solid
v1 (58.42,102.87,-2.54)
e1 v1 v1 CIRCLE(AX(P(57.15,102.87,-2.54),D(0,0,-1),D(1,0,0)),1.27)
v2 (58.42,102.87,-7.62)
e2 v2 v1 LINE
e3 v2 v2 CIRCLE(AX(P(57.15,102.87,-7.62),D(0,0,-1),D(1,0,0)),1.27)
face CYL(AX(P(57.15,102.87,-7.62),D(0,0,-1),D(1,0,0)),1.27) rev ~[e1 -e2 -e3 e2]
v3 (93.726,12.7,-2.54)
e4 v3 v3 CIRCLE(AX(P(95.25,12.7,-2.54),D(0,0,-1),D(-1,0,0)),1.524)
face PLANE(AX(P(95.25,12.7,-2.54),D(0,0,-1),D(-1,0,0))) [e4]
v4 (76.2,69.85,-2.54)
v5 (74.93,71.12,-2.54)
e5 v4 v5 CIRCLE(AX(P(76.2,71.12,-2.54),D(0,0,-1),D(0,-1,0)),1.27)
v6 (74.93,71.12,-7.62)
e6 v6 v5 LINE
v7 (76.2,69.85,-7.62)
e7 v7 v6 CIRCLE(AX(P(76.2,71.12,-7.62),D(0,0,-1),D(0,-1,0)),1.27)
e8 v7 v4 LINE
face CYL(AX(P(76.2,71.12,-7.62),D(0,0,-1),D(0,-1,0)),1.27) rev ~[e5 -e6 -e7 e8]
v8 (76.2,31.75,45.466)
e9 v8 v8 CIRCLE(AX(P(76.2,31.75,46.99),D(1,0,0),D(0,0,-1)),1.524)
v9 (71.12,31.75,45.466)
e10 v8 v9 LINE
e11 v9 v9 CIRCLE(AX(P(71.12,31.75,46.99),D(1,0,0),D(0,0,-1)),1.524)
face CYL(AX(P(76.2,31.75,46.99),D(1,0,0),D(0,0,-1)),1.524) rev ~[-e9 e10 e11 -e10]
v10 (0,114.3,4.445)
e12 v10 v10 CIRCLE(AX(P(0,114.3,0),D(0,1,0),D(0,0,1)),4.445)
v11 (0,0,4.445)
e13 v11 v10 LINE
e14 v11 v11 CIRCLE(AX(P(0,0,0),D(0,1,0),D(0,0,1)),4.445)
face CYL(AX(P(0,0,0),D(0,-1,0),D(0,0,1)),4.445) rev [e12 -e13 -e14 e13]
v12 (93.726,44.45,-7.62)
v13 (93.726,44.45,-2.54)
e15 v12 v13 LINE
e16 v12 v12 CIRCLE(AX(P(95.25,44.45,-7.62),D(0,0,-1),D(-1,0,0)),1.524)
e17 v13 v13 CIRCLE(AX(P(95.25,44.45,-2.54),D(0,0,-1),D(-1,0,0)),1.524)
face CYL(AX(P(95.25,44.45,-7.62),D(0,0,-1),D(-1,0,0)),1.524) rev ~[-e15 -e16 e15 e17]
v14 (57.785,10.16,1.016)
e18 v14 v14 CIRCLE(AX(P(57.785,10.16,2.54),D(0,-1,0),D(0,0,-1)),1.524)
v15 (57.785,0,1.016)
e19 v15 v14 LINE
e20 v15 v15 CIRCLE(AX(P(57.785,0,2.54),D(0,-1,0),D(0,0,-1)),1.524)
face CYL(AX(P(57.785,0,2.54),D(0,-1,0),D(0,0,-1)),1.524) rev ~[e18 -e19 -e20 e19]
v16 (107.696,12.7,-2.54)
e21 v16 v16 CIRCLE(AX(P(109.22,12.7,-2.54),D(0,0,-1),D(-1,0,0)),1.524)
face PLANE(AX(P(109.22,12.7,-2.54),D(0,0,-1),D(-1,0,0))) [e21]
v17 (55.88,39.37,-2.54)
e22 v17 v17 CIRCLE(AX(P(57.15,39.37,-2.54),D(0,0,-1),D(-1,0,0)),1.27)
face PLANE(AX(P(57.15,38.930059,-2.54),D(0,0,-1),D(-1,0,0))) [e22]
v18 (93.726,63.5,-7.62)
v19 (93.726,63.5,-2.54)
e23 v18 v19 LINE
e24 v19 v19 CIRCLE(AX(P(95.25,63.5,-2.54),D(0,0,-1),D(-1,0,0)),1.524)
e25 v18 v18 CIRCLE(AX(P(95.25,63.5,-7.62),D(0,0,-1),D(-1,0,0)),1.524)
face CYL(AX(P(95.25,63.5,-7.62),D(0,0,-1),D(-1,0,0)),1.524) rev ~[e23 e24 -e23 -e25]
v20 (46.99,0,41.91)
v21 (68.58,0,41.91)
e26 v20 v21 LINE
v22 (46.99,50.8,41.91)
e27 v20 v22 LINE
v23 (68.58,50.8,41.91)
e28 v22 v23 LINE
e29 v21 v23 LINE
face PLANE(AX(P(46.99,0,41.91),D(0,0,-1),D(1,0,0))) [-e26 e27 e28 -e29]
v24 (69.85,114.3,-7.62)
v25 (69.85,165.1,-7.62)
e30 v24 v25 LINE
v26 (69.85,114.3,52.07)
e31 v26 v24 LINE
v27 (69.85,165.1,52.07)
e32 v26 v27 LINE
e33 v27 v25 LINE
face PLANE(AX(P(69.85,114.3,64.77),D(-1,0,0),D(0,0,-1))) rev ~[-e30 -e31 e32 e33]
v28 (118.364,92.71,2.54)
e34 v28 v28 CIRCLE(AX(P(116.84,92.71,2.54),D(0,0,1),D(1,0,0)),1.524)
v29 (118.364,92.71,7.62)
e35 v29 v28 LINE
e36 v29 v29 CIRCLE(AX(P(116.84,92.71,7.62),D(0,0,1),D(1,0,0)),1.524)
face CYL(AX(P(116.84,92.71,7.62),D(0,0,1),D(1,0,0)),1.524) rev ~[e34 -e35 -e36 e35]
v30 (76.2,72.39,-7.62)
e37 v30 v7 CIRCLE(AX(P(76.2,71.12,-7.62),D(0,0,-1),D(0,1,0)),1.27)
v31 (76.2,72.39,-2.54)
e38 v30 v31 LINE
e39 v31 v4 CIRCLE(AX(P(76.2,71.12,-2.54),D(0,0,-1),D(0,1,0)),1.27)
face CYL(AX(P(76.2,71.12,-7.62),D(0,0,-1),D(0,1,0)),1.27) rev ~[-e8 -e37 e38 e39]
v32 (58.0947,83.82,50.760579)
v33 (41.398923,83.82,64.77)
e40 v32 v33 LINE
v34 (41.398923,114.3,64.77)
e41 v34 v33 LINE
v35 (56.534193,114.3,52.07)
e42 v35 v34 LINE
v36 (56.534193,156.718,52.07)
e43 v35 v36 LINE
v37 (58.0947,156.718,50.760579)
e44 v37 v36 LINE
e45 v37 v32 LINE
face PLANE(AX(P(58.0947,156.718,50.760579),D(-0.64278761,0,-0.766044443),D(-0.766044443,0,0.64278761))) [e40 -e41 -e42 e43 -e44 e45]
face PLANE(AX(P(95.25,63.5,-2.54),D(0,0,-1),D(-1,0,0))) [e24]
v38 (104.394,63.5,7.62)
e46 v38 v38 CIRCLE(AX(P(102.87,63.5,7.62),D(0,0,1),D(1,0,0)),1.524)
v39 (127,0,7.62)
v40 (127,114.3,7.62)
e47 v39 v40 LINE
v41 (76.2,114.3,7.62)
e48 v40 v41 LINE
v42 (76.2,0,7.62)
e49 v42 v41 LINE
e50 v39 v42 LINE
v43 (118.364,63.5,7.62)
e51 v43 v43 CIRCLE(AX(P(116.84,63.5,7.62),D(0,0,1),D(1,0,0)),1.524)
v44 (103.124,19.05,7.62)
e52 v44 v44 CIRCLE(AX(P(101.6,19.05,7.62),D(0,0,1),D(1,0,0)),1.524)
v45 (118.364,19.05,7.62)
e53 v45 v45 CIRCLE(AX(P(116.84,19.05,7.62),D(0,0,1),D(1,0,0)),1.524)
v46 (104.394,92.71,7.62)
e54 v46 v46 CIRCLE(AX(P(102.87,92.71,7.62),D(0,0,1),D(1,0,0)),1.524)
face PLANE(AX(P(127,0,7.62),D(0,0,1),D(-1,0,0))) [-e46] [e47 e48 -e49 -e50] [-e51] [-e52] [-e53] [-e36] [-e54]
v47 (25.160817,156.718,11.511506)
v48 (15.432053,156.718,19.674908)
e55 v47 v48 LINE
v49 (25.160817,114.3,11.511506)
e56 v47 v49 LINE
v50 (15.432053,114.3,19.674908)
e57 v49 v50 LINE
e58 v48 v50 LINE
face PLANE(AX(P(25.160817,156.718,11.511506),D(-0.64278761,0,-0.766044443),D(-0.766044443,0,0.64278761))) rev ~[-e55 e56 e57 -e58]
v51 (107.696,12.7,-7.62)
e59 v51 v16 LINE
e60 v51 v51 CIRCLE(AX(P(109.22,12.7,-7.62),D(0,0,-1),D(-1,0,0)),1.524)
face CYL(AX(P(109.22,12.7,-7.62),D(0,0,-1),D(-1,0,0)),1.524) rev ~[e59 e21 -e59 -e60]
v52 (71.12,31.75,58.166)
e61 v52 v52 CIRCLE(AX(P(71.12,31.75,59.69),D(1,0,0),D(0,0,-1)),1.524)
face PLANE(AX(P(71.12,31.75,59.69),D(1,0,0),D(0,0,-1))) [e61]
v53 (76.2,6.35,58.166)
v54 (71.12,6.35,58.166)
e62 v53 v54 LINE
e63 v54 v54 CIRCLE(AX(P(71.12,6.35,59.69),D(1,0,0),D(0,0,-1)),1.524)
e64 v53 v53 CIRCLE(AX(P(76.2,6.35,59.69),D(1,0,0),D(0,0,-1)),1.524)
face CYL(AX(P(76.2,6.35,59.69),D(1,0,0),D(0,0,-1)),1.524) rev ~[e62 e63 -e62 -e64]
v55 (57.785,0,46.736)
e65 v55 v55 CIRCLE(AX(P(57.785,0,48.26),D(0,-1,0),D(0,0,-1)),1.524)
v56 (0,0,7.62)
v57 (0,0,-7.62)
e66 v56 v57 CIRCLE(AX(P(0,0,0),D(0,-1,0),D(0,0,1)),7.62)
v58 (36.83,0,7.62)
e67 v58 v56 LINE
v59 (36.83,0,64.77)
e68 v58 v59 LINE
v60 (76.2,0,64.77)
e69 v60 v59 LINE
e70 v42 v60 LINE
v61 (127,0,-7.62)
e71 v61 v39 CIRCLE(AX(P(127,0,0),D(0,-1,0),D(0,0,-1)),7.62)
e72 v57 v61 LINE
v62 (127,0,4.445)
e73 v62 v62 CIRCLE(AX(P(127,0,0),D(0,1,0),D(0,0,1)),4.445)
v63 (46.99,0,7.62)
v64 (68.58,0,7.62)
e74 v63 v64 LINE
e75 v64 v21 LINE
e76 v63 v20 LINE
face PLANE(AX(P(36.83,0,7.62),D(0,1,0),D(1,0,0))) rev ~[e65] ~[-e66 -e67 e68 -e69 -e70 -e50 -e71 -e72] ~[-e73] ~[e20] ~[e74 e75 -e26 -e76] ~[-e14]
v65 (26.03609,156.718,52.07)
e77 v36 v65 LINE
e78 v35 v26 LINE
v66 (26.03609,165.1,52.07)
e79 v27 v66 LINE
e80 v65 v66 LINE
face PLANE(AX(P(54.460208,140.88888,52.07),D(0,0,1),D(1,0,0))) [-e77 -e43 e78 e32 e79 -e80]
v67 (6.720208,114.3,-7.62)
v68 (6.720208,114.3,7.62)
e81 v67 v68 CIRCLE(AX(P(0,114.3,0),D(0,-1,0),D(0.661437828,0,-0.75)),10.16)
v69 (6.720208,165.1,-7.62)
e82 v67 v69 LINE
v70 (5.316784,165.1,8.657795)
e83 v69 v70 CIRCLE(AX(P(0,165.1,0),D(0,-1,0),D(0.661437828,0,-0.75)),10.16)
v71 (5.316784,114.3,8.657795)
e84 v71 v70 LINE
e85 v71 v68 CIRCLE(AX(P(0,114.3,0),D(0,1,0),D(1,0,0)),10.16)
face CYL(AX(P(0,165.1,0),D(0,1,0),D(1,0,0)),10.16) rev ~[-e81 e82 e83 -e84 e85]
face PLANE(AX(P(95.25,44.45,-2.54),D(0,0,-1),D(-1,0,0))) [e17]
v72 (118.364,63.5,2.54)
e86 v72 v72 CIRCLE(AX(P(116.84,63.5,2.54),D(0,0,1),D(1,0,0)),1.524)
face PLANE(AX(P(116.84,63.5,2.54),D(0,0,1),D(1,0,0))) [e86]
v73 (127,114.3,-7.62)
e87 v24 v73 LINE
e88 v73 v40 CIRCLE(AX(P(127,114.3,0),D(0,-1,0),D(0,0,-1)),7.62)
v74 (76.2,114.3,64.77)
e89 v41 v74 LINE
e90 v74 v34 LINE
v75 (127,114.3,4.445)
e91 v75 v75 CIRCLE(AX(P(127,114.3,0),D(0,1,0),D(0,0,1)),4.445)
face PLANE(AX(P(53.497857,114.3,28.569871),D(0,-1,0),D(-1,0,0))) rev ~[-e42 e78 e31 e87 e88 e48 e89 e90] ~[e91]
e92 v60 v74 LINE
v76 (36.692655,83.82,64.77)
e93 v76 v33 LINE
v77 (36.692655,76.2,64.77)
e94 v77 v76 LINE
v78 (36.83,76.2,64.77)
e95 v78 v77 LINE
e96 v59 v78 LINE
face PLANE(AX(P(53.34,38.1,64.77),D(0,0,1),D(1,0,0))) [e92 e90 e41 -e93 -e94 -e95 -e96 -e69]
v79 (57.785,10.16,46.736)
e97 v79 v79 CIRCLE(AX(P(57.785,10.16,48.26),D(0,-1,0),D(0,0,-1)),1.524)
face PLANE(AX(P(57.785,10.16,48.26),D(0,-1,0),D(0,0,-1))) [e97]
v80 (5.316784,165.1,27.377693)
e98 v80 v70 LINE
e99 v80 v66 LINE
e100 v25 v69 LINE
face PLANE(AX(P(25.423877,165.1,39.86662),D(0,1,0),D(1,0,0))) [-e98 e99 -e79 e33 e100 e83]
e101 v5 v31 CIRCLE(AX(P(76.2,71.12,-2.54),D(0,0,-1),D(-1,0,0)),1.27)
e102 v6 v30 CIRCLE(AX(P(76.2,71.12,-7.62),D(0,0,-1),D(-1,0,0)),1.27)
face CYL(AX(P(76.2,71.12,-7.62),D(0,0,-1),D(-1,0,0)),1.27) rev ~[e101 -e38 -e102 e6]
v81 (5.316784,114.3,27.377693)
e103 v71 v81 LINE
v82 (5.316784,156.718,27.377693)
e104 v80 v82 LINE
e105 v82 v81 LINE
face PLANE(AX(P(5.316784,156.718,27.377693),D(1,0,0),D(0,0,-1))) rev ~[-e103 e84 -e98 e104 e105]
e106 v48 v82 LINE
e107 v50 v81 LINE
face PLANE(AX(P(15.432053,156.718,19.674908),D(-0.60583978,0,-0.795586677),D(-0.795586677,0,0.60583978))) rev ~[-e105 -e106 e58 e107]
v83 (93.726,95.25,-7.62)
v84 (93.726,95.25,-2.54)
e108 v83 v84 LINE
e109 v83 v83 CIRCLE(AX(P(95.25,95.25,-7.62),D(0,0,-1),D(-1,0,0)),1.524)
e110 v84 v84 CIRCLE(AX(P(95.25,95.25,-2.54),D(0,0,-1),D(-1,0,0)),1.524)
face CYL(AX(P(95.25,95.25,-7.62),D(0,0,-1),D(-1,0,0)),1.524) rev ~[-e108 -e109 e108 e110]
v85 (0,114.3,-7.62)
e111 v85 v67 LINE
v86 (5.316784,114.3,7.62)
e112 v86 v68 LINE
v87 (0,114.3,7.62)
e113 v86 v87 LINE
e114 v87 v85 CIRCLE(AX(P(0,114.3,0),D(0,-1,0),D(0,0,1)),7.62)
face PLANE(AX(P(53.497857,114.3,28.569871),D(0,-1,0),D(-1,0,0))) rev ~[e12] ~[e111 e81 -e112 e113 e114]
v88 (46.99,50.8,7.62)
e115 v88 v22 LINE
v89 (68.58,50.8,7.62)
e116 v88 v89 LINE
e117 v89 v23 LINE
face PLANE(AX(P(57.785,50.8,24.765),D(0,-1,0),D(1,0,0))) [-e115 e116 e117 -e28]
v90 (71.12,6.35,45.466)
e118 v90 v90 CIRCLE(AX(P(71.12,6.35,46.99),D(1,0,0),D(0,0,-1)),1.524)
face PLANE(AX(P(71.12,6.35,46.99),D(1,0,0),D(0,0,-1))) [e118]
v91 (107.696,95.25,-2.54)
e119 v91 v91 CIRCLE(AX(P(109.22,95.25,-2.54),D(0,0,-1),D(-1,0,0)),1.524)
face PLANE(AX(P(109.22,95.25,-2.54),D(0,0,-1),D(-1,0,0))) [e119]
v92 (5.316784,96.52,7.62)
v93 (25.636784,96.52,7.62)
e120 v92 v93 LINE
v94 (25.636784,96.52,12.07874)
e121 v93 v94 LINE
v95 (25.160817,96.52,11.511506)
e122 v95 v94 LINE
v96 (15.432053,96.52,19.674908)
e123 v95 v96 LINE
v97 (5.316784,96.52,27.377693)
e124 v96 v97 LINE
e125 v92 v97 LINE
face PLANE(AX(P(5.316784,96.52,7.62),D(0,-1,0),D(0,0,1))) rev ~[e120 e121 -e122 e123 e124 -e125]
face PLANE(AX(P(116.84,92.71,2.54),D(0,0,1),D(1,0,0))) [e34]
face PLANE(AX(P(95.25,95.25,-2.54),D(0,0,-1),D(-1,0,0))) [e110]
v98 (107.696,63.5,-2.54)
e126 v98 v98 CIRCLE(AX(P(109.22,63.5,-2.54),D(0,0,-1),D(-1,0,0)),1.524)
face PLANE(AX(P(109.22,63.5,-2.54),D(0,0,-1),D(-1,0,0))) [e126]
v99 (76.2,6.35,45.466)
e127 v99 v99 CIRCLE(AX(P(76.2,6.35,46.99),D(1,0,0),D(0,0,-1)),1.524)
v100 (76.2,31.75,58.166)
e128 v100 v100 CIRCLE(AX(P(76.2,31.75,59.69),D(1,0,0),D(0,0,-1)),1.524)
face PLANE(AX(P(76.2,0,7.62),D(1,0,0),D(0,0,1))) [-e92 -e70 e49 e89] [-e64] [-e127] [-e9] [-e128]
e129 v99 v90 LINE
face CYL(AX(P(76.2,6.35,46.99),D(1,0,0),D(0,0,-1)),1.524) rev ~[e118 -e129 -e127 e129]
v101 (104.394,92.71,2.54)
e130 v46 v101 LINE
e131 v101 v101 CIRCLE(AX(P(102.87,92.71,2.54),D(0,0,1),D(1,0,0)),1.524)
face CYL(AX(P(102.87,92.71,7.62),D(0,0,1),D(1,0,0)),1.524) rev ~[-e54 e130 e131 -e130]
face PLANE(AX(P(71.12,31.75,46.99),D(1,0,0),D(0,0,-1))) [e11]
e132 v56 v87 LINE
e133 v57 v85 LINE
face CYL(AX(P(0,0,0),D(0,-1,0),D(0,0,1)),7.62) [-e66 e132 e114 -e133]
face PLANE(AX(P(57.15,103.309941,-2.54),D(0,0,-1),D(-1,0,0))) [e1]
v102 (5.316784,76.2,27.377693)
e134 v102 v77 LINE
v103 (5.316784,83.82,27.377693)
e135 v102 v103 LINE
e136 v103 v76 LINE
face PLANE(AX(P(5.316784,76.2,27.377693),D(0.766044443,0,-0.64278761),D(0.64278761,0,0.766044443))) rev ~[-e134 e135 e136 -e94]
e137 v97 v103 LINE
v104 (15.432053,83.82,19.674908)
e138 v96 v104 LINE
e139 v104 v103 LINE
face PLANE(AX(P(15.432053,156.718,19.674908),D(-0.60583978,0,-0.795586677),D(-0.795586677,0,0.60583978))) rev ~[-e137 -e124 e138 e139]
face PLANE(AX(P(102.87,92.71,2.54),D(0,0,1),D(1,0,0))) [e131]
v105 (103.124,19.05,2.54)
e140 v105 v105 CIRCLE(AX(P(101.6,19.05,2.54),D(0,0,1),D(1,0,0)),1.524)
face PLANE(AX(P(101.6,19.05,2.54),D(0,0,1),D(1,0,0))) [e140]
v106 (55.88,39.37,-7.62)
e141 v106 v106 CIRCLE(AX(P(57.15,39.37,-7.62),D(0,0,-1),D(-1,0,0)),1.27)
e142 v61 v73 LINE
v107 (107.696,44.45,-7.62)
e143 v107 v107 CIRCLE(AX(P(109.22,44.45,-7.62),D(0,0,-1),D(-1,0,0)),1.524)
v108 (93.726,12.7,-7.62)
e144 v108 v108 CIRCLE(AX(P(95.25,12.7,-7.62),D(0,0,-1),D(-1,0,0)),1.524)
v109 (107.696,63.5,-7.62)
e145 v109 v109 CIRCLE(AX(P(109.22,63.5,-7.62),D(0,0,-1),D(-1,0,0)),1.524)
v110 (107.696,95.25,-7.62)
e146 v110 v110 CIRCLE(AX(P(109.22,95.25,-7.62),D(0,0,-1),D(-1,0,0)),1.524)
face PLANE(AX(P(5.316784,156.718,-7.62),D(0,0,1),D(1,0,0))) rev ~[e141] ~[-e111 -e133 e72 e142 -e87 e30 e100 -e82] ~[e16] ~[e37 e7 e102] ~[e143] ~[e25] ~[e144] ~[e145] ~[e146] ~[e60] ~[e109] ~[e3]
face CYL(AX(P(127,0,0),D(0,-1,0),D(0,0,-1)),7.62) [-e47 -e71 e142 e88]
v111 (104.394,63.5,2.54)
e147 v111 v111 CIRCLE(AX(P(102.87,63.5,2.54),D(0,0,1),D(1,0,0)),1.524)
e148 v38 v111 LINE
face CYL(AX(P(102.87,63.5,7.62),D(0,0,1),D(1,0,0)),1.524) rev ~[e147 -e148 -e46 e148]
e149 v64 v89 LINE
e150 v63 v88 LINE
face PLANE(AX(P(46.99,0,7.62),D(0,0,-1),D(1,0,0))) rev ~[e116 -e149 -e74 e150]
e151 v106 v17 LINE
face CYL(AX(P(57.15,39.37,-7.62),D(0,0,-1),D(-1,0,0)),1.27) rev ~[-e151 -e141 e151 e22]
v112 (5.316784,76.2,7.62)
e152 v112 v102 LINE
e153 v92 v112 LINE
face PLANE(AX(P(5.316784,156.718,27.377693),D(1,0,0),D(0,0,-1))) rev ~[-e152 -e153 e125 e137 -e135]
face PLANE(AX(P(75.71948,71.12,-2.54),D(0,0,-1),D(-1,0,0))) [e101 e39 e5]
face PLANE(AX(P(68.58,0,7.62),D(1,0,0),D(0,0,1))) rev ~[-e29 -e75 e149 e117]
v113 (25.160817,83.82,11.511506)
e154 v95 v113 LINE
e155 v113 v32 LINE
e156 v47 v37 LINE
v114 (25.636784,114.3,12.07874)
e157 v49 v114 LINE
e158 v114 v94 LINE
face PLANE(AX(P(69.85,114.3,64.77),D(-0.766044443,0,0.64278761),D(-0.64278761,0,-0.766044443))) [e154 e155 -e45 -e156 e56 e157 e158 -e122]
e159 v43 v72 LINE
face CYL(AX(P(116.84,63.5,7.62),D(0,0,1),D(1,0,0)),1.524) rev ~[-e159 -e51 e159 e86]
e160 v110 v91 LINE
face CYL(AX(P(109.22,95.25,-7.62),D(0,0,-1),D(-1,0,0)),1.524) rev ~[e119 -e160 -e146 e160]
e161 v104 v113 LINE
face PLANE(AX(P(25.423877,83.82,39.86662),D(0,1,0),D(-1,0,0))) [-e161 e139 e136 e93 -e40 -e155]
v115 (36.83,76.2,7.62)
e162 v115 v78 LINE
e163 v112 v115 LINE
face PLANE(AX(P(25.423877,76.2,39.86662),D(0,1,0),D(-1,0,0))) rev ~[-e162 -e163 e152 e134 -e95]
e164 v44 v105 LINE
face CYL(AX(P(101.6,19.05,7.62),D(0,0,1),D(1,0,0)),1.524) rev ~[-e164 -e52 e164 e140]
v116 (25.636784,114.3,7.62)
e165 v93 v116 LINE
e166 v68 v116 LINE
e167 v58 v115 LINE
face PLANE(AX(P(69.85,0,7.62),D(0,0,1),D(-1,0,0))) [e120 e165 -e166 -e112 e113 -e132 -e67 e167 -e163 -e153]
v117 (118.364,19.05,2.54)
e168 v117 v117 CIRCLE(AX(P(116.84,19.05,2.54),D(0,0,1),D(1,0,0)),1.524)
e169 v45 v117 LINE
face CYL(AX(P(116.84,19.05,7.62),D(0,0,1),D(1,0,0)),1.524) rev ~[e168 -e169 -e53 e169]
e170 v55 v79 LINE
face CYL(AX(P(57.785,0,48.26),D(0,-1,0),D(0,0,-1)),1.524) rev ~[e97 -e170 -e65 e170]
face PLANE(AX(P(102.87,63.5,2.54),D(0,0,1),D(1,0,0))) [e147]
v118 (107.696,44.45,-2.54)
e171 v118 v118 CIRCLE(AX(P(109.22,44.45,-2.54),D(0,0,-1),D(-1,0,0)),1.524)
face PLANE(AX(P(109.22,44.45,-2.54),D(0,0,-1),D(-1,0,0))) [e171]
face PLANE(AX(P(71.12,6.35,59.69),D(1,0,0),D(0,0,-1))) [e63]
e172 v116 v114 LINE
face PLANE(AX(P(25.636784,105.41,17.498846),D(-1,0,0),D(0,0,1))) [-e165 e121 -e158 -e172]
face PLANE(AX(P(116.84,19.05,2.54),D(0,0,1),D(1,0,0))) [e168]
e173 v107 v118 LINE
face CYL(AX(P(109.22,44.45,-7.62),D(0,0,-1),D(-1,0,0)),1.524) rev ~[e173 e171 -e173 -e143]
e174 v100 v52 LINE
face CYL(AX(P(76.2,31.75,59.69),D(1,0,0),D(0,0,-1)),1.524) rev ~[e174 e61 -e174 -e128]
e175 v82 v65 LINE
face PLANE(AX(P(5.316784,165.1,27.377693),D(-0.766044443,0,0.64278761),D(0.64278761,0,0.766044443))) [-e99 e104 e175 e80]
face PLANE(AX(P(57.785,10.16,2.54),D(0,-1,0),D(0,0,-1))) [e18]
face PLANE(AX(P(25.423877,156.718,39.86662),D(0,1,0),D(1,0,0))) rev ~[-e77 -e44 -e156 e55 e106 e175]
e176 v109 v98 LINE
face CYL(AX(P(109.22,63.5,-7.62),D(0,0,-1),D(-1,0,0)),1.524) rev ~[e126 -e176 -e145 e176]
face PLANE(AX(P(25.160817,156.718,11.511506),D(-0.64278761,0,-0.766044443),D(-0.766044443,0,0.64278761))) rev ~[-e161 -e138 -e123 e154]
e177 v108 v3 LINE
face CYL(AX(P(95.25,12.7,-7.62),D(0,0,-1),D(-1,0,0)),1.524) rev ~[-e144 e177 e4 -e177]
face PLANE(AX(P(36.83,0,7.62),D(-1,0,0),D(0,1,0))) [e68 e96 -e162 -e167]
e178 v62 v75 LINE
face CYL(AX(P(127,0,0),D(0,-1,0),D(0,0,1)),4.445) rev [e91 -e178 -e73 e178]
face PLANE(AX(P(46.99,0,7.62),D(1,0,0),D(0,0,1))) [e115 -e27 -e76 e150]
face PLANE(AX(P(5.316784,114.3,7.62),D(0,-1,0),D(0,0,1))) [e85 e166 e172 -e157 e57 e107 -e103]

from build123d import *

# Parameters (mm, degrees)
SKETCH1_R            = 4.445
BOSS_EXTRUDE1_DEPTH  = 114.3
BOSS_EXTRUDE3_DEPTH  = 38.1
SKETCH13_W           = 47.954543922
SKETCH13_H           = 15.24
BOSS_EXTRUDE4_DEPTH  = 50.8
BOSS_EXTRUDE5_DEPTH  = 7.62
BOSS_EXTRUDE6_DEPTH  = 8.382
BOSS_EXTRUDE7_DEPTH  = 76.2
BOSS_EXTRUDE8_DEPTH  = 7.62
BOSS_EXTRUDE9_DEPTH  = 8.382
BOSS_EXTRUDE10_DEPTH = 73.66
BOSS_EXTRUDE11_DEPTH = 73.406
SKETCH23_W           = 19.757692601
SKETCH23_H           = 17.78
CUT_EXTRUDE11_DEPTH  = 20.32
SKETCH24_R           = 10.16
CUT_EXTRUDE12_DEPTH  = 50.8
SKETCH25_W           = 23.730892102
SKETCH25_H           = 8.382
CUT_EXTRUDE14_DEPTH  = 12.7
SKETCH26_W           = 33.02
SKETCH26_H           = 76.2
BOSS_EXTRUDE13_DEPTH = 57.15
SKETCH34_R           = 1.524
CUT_EXTRUDE18_DEPTH  = 5.08
SKETCH35_R           = 1.524
CUT_EXTRUDE19_DEPTH  = 5.08
SKETCH36_R           = 1.524
CUT_EXTRUDE20_DEPTH  = 5.08
SKETCH37_W           = 21.59
SKETCH37_H           = 34.29
CUT_EXTRUDE21_DEPTH  = 50.8
SKETCH38_R           = 1.524
CUT_EXTRUDE22_DEPTH  = 10.16
CUT_EXTRUDE23_DEPTH  = 5.08


with BuildPart() as part:
    # Sketch1 → Boss-Extrude1 (new body)
    with BuildSketch(Plane(origin=(0, 0, 0), x_dir=(1, 0, 0), z_dir=(0, 1, 0))):
        with BuildLine():
            Line((0, 7.62), (127, 7.62))
            ThreePointArc((127, 7.62), (134.62, 0), (127, -7.62))
            Line((127, -7.62), (76.2, -7.62))
            Line((76.2, -7.62), (76.2, -64.77))
            Line((76.2, -64.77), (69.85, -64.77))
            Line((69.85, -64.77), (69.85, -7.62))
            Line((69.85, -7.62), (0, -7.62))
            ThreePointArc((0, -7.62), (-7.62, 0), (0, 7.62))
        make_face()
        with Locations(Location((0, 0, 0), (0, 0, 270))):
            Circle(SKETCH1_R, mode=Mode.SUBTRACT)
        with Locations(Location((127, 0, 0), (0, 0, 270))):
            Circle(SKETCH1_R, mode=Mode.SUBTRACT)
    extrude(amount=BOSS_EXTRUDE1_DEPTH)

    # Sketch12 → Boss-Extrude3 (add)
    with BuildSketch(Plane(origin=(0, 114.3, 0), x_dir=(1, 0, 0), z_dir=(0, 1, 0))):
        Polygon((69.85, -7.62), (69.85, -64.77), (21.895456078, -7.62), align=None)
    extrude(amount=-BOSS_EXTRUDE3_DEPTH)

    # Sketch13 → Boss-Extrude4 (add)
    with BuildSketch(Plane(origin=(0, 114.3, 0), x_dir=(1, 0, 0), z_dir=(0, 1, 0))):
        with Locations((45.872728039, 0)):
            Rectangle(SKETCH13_W, SKETCH13_H)
        Polygon((69.85, -7.62), (69.85, -64.77), (21.895456078, -7.62), align=None)
    extrude(amount=BOSS_EXTRUDE4_DEPTH)

    # Sketch14 → Boss-Extrude5 (add)
    with BuildSketch(Plane.XZ.offset(-76.2)):
        Polygon((21.895456078, 7.62), (69.85, 64.77), (53.271327425, 64.77), (12.166691651, 15.783402643), (5.316783504, 7.62), align=None)
    extrude(amount=-BOSS_EXTRUDE5_DEPTH)

    # Sketch15 → Boss-Extrude6 (add)
    with BuildSketch(Plane(origin=(0, 165.1, 0), x_dir=(1, 0, 0), z_dir=(0, 1, 0))):
        Polygon((69.85, -64.77), (53.271327425, -64.77), (5.316783504, -7.62), (5.316783504, 7.62), (21.895456078, 7.62), (21.895456078, -7.62), align=None)
    extrude(amount=-BOSS_EXTRUDE6_DEPTH)

    # Sketch17 → Boss-Extrude7 (add)
    with BuildSketch(Plane.XZ.offset(-156.718)):
        Polygon((12.166691651, 15.783402643), (5.316783504, 7.62), (5.316783504, -7.62), (21.895456078, -7.62), (21.895456078, 7.62), (25.160817135, 11.511505771), (15.432052708, 19.674908414), align=None)
    extrude(amount=BOSS_EXTRUDE7_DEPTH)

    # Sketch18 → Boss-Extrude8 (add)
    with BuildSketch(Plane.XZ.offset(-76.2)):
        Polygon((5.316783504, 7.62), (5.316783504, 27.377692601), (36.692654851, 64.77), (53.271327425, 64.77), align=None)
    extrude(amount=-BOSS_EXTRUDE8_DEPTH)

    # Sketch19 → Boss-Extrude9 (add)
    with BuildSketch(Plane(origin=(0, 165.1, 0), x_dir=(1, 0, 0), z_dir=(0, 1, 0))):
        Polygon((5.316783504, -7.62), (5.316783504, -27.377692601), (36.692654851, -64.77), (53.271327425, -64.77), align=None)
    extrude(amount=-BOSS_EXTRUDE9_DEPTH)

    # Sketch20 → Boss-Extrude10 (add)
    with BuildSketch(Plane.XZ.offset(-156.718)):
        Polygon((15.432052708, 19.674908414), (5.316783504, 27.377692601), (5.316783504, 7.62), align=None)
    extrude(amount=BOSS_EXTRUDE10_DEPTH)

    # Sketch22 → Boss-Extrude11 (add)
    with BuildSketch(Plane.XZ.offset(-156.718)):
        Polygon((69.85, 64.77), (58.094700194, 50.760579224), (41.398922654, 64.77), align=None)
    extrude(amount=BOSS_EXTRUDE11_DEPTH)

    # Sketch23 → Cut-Extrude11 (cut)
    with BuildSketch(Plane.ZY.offset(-5.316783504)):
        with Locations((17.498846301, 105.41)):
            Rectangle(SKETCH23_W, SKETCH23_H)
    extrude(amount=-CUT_EXTRUDE11_DEPTH, mode=Mode.SUBTRACT)

    # Sketch24 → Cut-Extrude12 (cut)
    with BuildSketch(Plane(origin=(0, 165.1, 0), x_dir=(1, 0, 0), z_dir=(0, 1, 0))):
        Circle(SKETCH24_R)
    extrude(amount=-CUT_EXTRUDE12_DEPTH, mode=Mode.SUBTRACT)

    # Sketch25 → Cut-Extrude14 (cut)
    with BuildSketch(Plane.XY.offset(64.77)):
        Polygon((41.398922654, 114.3), (69.85, 114.3), (69.85, 165.1), (36.692654851, 165.1), (36.692654851, 156.718), (41.398922654, 156.718), align=None)
        with Locations((24.8272088, 160.909)):
            Rectangle(SKETCH25_W, SKETCH25_H)
    extrude(amount=-CUT_EXTRUDE14_DEPTH, mode=Mode.SUBTRACT)

    # Sketch26 → Boss-Extrude13 (add)
    with BuildSketch(Plane.XY.offset(7.62)):
        with Locations((53.34, 38.1)):
            Rectangle(SKETCH26_W, SKETCH26_H)
    extrude(amount=BOSS_EXTRUDE13_DEPTH)

    # Sketch34 → Cut-Extrude18 (cut)
    with BuildSketch(Plane(origin=(0, 0, -7.62), x_dir=(-1, 0, 0), z_dir=(0, 0, -1))):
        with Locations((-109.22, 95.25)):
            Circle(SKETCH34_R)
        with Locations((-95.25, 95.25)):
            Circle(SKETCH34_R)
        with Locations((-95.25, 63.5)):
            Circle(SKETCH34_R)
        with Locations((-109.22, 63.5)):
            Circle(SKETCH34_R)
        with Locations((-109.22, 44.45)):
            Circle(SKETCH34_R)
        with Locations((-95.25, 44.45)):
            Circle(SKETCH34_R)
        with Locations((-109.22, 12.7)):
            Circle(SKETCH34_R)
        with Locations((-95.25, 12.7)):
            Circle(SKETCH34_R)
    extrude(amount=-CUT_EXTRUDE18_DEPTH, mode=Mode.SUBTRACT)

    # Sketch35 → Cut-Extrude19 (cut)
    with BuildSketch(Plane.XY.offset(7.62)):
        with Locations((102.87, 92.71)):
            Circle(SKETCH35_R)
        with Locations((116.84, 92.71)):
            Circle(SKETCH35_R)
        with Locations((102.87, 63.5)):
            Circle(SKETCH35_R)
        with Locations((116.84, 63.5)):
            Circle(SKETCH35_R)
        with Locations((101.6, 19.05)):
            Circle(SKETCH35_R)
        with Locations((116.84, 19.05)):
            Circle(SKETCH35_R)
    extrude(amount=-CUT_EXTRUDE19_DEPTH, mode=Mode.SUBTRACT)

    # Sketch36 → Cut-Extrude20 (cut)
    with BuildSketch(Plane(origin=(76.2, 0, 0), x_dir=(0, 0, -1), z_dir=(1, 0, 0))):
        with Locations((-59.69, 6.35)):
            Circle(SKETCH36_R)
        with Locations((-46.99, 6.35)):
            Circle(SKETCH36_R)
        with Locations((-46.99, 31.75)):
            Circle(SKETCH36_R)
        with Locations((-59.69, 31.75)):
            Circle(SKETCH36_R)
    extrude(amount=-CUT_EXTRUDE20_DEPTH, mode=Mode.SUBTRACT)

    # Sketch37 → Cut-Extrude21 (cut)
    with BuildSketch(Plane.XZ):
        with Locations((57.785, 24.765)):
            Rectangle(SKETCH37_W, SKETCH37_H)
    extrude(amount=-CUT_EXTRUDE21_DEPTH, mode=Mode.SUBTRACT)

    # Sketch38 → Cut-Extrude22 (cut)
    with BuildSketch(Plane.XZ):
        with Locations(Location((57.785, 48.26, 0), (0, 0, 270))):
            Circle(SKETCH38_R)
        with Locations(Location((57.785, 2.54, 0), (0, 0, 270))):
            Circle(SKETCH38_R)
    extrude(amount=-CUT_EXTRUDE22_DEPTH, mode=Mode.SUBTRACT)

    # Sketch39 → Cut-Extrude23 (cut)
    with BuildSketch(Plane(origin=(0, 0, -7.62), x_dir=(-1, 0, 0), z_dir=(0, 0, -1))):
        with BuildLine():
            ThreePointArc((-55.88, 102.87), (-57.15, 104.14), (-58.42, 102.87))
            Line((-58.42, 102.87), (-55.88, 102.87))
        make_face()
        with BuildLine():
            Line((-55.88, 102.87), (-58.42, 102.87))
            ThreePointArc((-58.42, 102.87), (-57.15, 101.6), (-55.88, 102.87))
        make_face()
        with BuildLine():
            ThreePointArc((-58.42, 39.37), (-57.15, 38.1), (-55.88, 39.37))
            Line((-55.88, 39.37), (-58.42, 39.37))
        make_face()
        with BuildLine():
            Line((-58.42, 39.37), (-55.88, 39.37))
            ThreePointArc((-55.88, 39.37), (-57.15, 40.64), (-58.42, 39.37))
        make_face()
        with BuildLine():
            ThreePointArc((-74.93, 71.12), (-75.301974388, 72.018025612), (-76.2, 72.39))
            Line((-76.2, 72.39), (-76.2, 69.85))
            ThreePointArc((-76.2, 69.85), (-75.301974388, 70.221974388), (-74.93, 71.12))
        make_face()
        with BuildLine():
            Line((-76.2, 69.85), (-76.2, 72.39))
            ThreePointArc((-76.2, 72.39), (-77.47, 71.12), (-76.2, 69.85))
        make_face()
    extrude(amount=-CUT_EXTRUDE23_DEPTH, mode=Mode.SUBTRACT)


solid = part.part
